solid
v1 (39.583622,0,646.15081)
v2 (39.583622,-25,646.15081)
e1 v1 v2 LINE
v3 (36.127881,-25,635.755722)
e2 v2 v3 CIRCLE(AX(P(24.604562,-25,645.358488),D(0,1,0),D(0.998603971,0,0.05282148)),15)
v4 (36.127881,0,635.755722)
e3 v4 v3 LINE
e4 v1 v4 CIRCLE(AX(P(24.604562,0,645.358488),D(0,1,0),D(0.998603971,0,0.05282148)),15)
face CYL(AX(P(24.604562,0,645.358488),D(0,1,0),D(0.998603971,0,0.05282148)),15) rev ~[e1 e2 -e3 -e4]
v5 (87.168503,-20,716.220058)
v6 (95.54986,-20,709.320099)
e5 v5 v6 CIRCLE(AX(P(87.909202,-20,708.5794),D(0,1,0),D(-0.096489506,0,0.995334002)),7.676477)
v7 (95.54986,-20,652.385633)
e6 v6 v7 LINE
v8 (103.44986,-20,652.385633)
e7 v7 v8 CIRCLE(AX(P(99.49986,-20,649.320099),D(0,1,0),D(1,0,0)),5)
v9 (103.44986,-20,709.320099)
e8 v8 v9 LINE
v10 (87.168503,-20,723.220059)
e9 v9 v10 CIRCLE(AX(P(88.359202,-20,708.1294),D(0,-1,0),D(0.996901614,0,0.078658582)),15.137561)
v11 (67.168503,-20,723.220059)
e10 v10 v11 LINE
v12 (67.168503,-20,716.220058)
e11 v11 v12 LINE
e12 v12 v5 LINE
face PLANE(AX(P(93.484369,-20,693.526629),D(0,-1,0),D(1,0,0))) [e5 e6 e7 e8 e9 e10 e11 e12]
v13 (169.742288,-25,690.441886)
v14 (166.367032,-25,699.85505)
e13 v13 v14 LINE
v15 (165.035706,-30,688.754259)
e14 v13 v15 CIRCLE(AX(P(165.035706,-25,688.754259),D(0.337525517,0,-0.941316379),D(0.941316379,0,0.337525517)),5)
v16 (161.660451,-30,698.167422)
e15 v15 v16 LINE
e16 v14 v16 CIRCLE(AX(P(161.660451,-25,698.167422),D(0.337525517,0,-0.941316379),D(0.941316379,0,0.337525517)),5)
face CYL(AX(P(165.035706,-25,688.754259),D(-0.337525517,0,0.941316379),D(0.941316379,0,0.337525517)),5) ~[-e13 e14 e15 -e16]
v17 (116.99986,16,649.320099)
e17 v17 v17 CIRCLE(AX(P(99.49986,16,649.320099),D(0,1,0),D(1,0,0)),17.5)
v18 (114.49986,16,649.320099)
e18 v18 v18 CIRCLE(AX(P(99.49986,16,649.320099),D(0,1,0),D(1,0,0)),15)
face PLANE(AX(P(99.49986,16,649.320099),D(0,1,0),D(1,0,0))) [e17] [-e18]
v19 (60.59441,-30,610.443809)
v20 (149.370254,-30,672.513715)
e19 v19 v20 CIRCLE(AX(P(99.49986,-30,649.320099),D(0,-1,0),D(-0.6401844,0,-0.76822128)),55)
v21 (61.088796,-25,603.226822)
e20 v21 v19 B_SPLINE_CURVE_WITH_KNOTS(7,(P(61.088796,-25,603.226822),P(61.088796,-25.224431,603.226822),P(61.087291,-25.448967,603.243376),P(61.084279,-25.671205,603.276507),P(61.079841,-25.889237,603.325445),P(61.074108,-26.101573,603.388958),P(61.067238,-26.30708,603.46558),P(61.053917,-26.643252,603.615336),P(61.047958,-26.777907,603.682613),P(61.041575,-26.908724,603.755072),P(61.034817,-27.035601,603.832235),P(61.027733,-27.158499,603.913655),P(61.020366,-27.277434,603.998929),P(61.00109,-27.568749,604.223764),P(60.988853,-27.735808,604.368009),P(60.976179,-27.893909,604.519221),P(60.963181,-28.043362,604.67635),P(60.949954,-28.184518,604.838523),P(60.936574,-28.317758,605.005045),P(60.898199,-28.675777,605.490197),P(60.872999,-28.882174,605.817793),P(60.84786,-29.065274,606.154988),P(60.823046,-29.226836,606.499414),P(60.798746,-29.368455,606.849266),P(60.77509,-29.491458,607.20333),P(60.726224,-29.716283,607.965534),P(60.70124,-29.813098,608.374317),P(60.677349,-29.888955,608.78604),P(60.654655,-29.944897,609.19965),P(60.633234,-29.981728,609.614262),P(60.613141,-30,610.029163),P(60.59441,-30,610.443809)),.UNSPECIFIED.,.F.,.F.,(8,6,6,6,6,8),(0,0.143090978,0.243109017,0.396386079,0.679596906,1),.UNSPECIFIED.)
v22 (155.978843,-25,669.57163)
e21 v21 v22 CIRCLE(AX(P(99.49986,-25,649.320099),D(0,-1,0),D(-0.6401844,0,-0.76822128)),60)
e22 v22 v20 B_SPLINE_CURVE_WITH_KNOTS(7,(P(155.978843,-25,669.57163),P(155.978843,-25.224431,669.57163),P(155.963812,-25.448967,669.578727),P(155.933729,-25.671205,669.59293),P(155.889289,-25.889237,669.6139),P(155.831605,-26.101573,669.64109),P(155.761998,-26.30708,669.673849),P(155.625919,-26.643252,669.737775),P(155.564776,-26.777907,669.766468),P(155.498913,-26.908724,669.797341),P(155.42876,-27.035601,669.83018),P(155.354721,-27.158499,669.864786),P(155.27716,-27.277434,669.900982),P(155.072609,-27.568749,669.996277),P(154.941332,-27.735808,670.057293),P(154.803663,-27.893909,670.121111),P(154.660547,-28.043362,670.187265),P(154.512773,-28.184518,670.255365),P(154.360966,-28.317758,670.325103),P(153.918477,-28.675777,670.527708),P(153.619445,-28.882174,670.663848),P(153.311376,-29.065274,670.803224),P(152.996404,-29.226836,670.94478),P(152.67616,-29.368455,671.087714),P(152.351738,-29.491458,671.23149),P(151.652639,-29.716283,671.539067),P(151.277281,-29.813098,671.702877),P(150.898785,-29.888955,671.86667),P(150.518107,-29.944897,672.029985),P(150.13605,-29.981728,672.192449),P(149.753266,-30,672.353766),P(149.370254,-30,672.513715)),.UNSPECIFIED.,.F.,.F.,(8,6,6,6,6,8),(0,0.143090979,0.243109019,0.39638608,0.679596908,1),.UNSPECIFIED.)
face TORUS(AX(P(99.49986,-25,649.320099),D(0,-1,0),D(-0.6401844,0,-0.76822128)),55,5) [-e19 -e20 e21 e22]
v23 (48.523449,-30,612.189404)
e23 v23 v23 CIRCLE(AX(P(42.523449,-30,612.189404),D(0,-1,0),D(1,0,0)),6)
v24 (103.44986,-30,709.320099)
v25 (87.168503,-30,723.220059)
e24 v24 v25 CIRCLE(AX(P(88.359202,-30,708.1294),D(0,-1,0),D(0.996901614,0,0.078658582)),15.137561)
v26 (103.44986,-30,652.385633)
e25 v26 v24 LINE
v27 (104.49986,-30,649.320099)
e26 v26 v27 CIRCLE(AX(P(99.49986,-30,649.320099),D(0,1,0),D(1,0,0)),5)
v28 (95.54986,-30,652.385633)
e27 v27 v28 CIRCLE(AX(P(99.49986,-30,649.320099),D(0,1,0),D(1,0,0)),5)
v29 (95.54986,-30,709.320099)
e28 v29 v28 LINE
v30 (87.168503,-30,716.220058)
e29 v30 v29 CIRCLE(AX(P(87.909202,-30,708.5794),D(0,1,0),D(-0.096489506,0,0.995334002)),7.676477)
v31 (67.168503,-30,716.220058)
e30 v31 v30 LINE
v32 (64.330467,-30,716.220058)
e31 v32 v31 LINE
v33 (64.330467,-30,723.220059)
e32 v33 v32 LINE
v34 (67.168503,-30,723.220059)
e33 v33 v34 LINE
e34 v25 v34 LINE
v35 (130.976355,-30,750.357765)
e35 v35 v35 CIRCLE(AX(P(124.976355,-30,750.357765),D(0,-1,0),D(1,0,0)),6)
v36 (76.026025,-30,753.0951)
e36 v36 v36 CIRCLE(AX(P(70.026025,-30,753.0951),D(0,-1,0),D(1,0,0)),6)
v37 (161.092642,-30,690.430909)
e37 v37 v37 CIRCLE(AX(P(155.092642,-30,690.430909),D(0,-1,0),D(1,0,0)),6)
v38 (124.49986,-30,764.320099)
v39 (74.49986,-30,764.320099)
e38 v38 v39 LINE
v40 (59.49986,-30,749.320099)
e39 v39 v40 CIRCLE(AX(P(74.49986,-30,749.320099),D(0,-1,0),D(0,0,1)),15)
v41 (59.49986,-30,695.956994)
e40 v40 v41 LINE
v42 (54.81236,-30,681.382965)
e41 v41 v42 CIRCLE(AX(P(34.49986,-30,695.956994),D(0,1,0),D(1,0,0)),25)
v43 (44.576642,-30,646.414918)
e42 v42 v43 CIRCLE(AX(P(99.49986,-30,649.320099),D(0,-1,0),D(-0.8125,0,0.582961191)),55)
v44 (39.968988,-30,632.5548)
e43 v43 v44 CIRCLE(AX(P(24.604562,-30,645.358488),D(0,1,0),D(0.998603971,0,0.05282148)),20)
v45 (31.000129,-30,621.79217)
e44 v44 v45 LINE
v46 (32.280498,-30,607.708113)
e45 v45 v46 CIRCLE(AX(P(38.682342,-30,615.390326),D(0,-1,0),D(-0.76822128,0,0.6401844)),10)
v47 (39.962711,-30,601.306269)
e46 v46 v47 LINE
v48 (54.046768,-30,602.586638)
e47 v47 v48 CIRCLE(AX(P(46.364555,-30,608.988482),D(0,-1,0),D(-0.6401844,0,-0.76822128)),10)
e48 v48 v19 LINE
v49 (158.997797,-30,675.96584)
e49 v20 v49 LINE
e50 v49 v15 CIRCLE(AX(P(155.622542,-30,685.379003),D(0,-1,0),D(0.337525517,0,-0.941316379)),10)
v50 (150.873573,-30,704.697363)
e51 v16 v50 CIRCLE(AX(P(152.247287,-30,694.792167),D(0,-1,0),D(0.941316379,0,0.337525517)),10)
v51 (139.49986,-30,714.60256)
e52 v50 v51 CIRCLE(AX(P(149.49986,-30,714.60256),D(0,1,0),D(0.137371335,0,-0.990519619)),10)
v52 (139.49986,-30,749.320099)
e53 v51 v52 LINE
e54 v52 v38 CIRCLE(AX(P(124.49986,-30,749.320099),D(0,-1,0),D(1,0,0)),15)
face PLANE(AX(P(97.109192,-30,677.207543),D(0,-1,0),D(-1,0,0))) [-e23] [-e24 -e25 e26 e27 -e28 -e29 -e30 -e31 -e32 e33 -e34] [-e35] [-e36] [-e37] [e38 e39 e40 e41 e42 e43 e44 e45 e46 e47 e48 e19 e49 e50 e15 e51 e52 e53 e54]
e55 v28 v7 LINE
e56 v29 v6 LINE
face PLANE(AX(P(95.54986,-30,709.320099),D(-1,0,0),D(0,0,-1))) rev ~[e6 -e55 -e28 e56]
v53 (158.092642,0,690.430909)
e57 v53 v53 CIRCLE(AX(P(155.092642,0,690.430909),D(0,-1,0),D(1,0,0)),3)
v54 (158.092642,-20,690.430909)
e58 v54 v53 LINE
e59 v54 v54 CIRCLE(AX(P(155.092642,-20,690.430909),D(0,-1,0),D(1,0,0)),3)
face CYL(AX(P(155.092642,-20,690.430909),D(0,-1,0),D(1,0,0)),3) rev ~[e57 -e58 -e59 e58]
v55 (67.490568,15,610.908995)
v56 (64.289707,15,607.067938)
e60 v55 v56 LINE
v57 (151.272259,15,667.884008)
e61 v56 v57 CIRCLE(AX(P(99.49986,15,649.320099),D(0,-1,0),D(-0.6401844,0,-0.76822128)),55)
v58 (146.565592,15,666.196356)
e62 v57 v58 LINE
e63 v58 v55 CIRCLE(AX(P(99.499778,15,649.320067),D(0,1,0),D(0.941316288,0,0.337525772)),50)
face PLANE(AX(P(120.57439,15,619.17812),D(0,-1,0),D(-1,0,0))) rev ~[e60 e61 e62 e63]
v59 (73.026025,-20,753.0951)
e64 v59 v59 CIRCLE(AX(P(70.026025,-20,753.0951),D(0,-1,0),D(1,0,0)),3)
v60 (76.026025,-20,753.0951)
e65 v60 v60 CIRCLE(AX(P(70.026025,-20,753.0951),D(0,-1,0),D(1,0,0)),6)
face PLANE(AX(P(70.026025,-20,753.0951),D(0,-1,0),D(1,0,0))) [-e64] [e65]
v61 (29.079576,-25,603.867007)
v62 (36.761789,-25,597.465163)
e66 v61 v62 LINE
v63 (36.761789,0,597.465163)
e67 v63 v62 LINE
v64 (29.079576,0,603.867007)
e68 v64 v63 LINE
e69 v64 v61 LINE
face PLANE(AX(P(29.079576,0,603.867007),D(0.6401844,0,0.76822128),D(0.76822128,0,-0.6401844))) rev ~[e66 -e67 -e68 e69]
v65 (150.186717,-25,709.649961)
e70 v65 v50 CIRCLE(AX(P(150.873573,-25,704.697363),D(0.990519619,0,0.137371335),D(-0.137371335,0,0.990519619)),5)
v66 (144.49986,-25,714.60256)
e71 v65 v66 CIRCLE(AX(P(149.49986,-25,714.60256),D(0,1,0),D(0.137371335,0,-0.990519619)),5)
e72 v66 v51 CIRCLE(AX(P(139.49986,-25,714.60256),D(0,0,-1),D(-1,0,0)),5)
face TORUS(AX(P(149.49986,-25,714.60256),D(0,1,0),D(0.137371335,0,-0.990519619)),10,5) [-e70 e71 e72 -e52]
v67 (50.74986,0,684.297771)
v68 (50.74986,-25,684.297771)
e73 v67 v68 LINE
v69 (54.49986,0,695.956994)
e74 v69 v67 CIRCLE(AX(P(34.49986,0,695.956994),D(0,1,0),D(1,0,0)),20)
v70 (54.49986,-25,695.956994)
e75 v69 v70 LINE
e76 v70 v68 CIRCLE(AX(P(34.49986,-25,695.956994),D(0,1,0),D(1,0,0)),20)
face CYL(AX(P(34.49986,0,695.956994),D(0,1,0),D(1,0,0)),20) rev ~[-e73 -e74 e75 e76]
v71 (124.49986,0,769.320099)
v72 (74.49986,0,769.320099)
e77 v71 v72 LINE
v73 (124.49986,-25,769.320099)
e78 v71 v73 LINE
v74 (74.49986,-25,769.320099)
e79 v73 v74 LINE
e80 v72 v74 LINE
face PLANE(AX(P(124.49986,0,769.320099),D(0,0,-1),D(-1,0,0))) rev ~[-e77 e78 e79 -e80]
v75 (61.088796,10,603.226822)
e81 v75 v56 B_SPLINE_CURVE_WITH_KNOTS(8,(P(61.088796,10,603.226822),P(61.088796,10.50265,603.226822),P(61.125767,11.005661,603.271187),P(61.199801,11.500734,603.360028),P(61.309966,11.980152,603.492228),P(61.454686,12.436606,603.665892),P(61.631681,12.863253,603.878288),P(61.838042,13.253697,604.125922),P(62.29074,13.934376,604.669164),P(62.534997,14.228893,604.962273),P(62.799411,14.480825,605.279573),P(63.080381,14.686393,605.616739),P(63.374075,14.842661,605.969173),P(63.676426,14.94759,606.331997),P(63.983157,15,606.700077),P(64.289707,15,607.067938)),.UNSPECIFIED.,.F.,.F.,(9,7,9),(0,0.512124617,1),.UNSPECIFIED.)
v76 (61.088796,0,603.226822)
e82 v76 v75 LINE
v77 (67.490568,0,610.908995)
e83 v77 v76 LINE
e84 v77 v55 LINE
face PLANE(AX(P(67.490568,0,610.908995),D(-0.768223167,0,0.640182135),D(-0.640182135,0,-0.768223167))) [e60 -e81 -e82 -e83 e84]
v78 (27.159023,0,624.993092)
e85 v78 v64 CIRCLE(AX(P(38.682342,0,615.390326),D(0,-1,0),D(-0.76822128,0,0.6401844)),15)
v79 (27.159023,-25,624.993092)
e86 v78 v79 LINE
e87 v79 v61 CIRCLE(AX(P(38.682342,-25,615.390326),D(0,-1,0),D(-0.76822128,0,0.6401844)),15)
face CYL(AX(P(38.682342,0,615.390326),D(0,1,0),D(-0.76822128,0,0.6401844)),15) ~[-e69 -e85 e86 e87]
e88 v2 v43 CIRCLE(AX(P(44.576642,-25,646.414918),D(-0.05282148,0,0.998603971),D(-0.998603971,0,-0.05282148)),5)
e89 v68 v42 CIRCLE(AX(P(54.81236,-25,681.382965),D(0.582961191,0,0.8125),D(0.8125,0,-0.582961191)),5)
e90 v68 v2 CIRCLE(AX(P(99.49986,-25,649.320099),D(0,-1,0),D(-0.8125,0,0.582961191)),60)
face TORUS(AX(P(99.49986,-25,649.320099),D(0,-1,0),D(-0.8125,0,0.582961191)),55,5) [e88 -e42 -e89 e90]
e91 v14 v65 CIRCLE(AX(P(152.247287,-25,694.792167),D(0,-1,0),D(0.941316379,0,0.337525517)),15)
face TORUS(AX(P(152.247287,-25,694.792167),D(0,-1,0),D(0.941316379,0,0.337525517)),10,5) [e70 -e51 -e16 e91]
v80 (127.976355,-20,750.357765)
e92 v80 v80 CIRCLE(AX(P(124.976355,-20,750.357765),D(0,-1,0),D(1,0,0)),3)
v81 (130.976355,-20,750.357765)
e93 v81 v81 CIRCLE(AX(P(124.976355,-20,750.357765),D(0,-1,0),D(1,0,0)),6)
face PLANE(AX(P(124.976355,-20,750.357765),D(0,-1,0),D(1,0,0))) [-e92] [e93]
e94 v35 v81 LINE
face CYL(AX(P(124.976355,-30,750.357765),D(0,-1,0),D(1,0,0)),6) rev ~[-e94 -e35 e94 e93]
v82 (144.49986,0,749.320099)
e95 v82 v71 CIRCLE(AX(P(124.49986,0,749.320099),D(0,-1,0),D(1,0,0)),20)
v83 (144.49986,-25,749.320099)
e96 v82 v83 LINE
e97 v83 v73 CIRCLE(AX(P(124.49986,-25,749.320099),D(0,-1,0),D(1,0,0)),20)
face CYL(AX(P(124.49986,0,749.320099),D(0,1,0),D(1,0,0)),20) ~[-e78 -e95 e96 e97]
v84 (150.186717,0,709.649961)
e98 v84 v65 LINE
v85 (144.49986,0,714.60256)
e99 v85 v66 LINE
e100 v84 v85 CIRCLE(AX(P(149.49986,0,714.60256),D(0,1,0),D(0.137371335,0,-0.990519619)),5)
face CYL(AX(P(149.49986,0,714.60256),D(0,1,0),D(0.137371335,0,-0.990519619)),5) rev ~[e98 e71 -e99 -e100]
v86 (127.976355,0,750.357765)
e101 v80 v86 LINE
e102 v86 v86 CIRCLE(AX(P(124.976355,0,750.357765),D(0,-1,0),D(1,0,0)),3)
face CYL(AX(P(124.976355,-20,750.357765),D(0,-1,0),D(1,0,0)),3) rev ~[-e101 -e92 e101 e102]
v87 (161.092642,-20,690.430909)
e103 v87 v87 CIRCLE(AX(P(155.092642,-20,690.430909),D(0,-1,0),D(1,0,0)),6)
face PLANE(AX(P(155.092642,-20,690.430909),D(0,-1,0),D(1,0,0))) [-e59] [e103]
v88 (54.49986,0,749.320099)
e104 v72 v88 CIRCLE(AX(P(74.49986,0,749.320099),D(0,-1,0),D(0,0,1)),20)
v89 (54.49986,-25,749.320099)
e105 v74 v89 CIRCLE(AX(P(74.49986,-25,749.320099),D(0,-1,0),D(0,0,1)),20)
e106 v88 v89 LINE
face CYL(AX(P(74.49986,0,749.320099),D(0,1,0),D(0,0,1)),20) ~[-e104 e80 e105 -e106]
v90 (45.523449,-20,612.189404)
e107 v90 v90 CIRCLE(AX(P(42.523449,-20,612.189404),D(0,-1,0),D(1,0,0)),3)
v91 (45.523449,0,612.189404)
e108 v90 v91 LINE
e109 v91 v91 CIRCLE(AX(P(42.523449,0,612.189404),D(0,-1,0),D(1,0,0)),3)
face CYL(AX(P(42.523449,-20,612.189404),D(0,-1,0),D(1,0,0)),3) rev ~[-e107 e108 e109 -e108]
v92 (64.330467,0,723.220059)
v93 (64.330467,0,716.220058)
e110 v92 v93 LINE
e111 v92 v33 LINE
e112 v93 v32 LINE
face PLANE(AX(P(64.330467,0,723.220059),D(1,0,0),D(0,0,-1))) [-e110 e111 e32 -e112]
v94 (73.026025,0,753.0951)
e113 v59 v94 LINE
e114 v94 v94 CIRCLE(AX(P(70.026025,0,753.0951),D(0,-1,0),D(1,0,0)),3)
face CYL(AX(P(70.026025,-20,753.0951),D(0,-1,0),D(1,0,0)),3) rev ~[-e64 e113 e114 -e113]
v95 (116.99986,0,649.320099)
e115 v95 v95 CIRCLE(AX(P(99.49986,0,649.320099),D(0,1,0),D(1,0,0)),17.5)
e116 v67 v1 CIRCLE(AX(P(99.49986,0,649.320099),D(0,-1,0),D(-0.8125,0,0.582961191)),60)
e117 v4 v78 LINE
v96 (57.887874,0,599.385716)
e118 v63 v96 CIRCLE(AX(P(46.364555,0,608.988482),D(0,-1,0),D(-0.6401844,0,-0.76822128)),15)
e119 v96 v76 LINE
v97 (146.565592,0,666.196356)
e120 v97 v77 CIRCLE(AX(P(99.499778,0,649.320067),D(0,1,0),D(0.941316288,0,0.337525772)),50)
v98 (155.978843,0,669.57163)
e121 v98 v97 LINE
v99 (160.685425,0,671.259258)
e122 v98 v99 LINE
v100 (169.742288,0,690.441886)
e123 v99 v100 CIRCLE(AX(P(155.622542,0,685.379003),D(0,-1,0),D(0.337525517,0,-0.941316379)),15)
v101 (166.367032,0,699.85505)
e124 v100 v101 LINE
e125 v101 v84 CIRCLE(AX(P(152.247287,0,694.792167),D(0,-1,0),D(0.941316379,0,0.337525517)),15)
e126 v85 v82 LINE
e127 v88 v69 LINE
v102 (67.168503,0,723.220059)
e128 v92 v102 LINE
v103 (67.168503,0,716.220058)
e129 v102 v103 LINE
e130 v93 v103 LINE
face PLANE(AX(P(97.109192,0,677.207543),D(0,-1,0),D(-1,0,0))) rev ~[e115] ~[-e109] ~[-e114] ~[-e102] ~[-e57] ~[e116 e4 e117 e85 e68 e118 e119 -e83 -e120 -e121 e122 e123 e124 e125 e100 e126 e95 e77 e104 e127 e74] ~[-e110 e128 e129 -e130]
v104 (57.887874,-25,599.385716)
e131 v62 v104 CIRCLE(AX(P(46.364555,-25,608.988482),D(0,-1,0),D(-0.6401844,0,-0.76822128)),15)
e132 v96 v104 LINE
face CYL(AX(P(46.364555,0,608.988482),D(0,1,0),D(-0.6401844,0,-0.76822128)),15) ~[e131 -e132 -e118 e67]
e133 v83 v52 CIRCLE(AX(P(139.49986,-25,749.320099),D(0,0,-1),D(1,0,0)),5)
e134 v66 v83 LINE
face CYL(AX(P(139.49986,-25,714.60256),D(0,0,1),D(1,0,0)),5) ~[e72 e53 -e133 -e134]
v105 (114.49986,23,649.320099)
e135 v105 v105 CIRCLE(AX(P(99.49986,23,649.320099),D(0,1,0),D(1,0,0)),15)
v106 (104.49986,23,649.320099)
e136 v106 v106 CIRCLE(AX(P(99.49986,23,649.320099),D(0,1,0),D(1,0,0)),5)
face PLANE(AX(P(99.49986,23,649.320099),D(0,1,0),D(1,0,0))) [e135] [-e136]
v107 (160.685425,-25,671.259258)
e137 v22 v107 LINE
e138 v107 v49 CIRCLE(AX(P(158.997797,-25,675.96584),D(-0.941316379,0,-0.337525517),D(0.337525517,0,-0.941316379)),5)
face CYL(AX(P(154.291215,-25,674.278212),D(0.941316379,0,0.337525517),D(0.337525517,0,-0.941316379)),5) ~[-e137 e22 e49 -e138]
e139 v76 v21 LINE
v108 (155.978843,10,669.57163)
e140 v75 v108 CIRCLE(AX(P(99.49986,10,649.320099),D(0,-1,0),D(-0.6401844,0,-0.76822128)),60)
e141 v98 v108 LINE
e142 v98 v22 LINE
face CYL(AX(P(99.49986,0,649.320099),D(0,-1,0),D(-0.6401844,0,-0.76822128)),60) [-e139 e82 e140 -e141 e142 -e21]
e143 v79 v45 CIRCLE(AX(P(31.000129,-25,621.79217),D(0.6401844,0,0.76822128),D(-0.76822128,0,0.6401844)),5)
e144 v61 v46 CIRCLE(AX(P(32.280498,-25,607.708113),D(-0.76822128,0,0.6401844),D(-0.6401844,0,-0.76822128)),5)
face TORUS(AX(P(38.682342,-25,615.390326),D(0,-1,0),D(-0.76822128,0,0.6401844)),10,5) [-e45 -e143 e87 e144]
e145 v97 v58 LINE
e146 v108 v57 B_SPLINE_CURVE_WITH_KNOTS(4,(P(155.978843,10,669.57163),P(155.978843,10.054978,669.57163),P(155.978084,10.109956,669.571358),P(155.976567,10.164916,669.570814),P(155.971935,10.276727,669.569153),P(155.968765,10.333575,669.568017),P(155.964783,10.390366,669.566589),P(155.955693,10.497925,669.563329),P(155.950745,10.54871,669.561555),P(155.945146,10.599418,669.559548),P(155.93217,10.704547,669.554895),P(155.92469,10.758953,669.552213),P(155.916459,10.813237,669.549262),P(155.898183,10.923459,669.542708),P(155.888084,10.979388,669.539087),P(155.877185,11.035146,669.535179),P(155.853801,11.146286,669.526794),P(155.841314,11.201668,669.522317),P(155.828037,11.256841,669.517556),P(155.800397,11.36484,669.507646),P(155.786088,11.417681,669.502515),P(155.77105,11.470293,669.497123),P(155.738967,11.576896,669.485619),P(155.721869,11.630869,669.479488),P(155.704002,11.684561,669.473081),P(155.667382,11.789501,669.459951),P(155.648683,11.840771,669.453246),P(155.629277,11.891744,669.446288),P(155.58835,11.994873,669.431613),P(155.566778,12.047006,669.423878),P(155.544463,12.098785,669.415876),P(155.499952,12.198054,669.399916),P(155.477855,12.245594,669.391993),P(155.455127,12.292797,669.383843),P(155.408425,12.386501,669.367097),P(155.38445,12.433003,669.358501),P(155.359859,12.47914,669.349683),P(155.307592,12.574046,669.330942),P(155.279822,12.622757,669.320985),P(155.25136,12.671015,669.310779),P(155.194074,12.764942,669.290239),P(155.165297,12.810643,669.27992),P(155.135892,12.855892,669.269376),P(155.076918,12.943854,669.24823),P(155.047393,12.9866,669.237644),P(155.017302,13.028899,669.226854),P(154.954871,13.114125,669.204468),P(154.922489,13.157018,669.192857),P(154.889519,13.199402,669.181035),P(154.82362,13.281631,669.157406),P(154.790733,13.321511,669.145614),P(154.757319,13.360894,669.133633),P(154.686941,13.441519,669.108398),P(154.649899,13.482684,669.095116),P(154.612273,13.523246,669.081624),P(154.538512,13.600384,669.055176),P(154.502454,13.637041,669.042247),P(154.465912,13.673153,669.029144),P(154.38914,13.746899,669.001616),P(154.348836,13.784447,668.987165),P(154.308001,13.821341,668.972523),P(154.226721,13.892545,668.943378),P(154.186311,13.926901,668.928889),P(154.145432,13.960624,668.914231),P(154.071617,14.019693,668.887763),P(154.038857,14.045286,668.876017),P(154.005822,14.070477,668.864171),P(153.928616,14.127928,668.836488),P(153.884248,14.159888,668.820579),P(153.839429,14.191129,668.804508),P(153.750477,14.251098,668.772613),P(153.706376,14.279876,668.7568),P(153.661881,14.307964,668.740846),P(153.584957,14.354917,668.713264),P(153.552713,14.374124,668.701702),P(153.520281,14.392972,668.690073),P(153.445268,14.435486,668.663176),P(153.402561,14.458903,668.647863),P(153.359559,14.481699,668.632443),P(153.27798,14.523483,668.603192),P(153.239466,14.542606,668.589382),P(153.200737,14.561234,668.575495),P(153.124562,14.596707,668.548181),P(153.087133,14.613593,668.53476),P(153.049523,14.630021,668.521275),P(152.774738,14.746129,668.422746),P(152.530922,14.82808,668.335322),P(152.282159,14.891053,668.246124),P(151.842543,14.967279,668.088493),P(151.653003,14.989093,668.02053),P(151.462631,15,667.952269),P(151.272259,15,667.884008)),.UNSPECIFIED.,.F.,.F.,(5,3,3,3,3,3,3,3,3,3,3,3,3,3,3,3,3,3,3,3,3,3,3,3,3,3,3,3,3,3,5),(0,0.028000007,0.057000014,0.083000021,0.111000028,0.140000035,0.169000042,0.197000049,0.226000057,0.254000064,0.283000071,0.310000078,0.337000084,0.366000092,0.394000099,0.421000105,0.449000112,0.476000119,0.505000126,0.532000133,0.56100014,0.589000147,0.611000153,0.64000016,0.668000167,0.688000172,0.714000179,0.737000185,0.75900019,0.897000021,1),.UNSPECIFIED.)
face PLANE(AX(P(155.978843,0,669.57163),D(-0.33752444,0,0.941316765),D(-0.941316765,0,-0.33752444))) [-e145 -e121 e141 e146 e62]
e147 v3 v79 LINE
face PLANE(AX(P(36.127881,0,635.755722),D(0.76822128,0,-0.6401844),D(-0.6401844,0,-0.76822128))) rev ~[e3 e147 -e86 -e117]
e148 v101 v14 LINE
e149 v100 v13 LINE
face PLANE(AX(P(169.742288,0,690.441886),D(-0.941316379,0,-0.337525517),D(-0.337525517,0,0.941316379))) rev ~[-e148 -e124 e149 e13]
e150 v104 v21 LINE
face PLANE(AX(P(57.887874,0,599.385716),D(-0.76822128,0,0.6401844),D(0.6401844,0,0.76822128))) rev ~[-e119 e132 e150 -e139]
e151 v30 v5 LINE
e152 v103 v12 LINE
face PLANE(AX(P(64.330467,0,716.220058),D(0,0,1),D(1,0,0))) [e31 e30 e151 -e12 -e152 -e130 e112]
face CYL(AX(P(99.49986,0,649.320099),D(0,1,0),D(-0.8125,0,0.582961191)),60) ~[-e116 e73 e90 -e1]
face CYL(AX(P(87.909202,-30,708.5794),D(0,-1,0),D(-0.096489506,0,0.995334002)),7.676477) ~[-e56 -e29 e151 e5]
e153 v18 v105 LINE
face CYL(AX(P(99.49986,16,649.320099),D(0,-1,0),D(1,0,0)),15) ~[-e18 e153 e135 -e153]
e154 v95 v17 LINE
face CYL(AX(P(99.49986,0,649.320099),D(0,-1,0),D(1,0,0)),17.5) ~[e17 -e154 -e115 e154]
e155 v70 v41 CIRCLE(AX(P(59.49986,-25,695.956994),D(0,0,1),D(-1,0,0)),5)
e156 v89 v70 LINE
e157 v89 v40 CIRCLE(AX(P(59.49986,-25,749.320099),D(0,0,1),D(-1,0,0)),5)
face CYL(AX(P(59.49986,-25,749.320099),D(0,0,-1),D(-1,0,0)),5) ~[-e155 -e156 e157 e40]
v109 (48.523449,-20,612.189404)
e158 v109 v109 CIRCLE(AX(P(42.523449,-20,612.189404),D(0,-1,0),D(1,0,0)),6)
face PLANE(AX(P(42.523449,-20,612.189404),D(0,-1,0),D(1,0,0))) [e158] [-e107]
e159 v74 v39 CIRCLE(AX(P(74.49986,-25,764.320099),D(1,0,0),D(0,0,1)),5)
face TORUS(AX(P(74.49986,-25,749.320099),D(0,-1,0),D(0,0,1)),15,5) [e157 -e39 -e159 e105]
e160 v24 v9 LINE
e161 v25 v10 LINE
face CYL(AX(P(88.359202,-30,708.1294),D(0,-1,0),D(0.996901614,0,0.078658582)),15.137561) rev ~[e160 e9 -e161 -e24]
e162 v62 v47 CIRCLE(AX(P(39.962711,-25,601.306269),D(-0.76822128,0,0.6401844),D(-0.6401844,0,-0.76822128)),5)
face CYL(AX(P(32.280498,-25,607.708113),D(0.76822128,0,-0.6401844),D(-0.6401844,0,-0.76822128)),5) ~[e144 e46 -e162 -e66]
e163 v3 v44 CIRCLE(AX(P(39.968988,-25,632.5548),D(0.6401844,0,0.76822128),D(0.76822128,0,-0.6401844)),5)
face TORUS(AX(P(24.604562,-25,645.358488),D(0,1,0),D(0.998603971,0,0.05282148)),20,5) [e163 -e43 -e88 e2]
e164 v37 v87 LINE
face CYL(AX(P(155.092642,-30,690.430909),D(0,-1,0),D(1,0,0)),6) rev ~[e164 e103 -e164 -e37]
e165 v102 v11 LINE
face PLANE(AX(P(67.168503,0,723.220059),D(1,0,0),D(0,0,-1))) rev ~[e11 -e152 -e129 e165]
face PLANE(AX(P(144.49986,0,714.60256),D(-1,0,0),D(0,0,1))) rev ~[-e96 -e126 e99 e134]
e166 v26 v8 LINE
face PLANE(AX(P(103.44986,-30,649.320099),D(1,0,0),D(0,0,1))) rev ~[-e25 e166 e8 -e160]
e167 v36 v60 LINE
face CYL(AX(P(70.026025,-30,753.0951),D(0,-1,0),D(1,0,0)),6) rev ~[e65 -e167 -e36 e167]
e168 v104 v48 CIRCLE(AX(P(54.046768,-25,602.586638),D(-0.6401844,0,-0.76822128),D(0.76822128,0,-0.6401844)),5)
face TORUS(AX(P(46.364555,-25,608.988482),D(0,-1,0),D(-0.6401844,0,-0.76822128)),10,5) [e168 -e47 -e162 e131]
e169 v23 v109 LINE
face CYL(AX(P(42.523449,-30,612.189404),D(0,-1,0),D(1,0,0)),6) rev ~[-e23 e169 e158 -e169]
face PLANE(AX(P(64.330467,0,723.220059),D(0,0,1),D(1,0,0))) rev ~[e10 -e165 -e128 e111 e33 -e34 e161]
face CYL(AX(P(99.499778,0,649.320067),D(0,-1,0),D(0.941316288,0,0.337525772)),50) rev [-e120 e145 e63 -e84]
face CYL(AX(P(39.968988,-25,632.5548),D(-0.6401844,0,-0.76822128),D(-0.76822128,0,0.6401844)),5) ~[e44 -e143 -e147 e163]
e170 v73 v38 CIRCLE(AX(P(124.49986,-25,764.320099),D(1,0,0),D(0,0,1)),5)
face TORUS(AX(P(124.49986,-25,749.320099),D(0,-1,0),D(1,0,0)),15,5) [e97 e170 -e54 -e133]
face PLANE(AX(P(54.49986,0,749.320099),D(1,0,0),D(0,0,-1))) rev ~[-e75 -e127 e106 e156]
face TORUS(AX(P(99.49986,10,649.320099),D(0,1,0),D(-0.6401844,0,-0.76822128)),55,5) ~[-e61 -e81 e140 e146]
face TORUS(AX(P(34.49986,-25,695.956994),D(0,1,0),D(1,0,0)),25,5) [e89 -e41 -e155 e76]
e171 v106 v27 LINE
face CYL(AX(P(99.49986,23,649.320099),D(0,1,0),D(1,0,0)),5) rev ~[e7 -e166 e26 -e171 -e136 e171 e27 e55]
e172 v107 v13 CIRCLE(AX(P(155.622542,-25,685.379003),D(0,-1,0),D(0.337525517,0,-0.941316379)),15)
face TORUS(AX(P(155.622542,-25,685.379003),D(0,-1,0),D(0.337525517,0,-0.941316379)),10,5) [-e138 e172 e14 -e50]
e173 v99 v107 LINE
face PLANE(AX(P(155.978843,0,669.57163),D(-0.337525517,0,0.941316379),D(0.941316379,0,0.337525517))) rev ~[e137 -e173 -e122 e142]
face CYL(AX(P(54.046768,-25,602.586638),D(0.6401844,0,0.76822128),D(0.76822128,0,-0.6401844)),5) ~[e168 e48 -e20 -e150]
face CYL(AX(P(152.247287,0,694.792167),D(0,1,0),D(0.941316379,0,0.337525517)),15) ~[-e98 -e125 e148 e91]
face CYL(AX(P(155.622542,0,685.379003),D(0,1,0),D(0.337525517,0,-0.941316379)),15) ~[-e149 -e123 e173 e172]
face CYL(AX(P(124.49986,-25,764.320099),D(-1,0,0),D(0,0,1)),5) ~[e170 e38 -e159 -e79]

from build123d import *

# Parameters (mm, degrees)
BOSS_EXTRUDE1_DEPTH = 30
SKETCH3_R           = 6
CUT_EXTRUDE2_DEPTH  = 10
CUT_EXTRUDE3_REACH  = 22
SKETCH4_R           = 3
SKETCH5_R           = 17.5
BOSS_EXTRUDE2_DEPTH = 16
SKETCH6_R           = 15
BOSS_EXTRUDE3_DEPTH = 7
BOSS_EXTRUDE4_DEPTH = 15
FILLET1_R           = 5
CUT_EXTRUDE4_REACH  = 55
SKETCH8_R           = 5
CUT_EXTRUDE5_REACH  = 32
SKETCH9_W           = 2.838035454
SKETCH9_H           = 7.000000767
CUT_EXTRUDE6_DEPTH  = 10


with BuildPart() as part:
    # Sketch1 → Boss-Extrude1 (new body)
    with BuildSketch(Plane(origin=(0, 0, 0), x_dir=(-1, 0, 0), z_dir=(0, -1, 0))):
        with BuildLine():
            Line((-155.978842812, -669.571630145), (-160.685424707, -671.259257732))
            ThreePointArc((-160.685424707, -671.259257732), (-169.1867086, -678.974834226), (-169.742287629, -690.441886175))
            Line((-169.742287629, -690.441886175), (-166.367032456, -699.855049964))
            ThreePointArc((-166.367032456, -699.855049964), (-160.015233889, -707.624119417), (-150.186716753, -709.649961495))
            ThreePointArc((-150.186716753, -709.649961495), (-146.216133795, -710.831997076), (-144.49986008, -714.602559592))
            Line((-144.49986008, -714.602559592), (-144.49986008, -749.320099104))
            ThreePointArc((-144.49986008, -749.320099104), (-138.641995704, -763.462234727), (-124.49986008, -769.320099104))
            Line((-124.49986008, -769.320099104), (-74.49986008, -769.320099104))
            ThreePointArc((-74.49986008, -769.320099104), (-60.357724456, -763.462234727), (-54.49986008, -749.320099104))
            Line((-54.49986008, -749.320099104), (-54.49986008, -695.956994369))
            ThreePointArc((-54.49986008, -695.956994369), (-53.539292845, -689.833270012), (-50.74986008, -684.297770553))
            ThreePointArc((-50.74986008, -684.297770553), (-41.916134266, -666.175796103), (-39.583621808, -646.150810326))
            ThreePointArc((-39.583621808, -646.150810326), (-38.838622962, -640.626520742), (-36.127881434, -635.755722136))
            Line((-36.127881434, -635.755722136), (-27.159022918, -624.993091916))
            ThreePointArc((-27.159022918, -624.993091916), (-23.743944015, -614.032289731), (-29.079576117, -603.867006728))
            Line((-29.079576117, -603.867006728), (-36.761788913, -597.465162731))
            ThreePointArc((-36.761788913, -597.465162731), (-47.722591099, -594.050083828), (-57.887874102, -599.38571593))
            Line((-57.887874102, -599.38571593), (-61.0887961, -603.226822328))
            ThreePointArc((-61.0887961, -603.226822328), (-133.880389498, -600.14714722), (-155.978842812, -669.571630145))
        make_face()
    extrude(amount=BOSS_EXTRUDE1_DEPTH)

    # Sketch3 → Cut-Extrude2 (cut)
    with BuildSketch(Plane.XZ.offset(30)):
        with Locations((42.52344851, 612.189403923)):
            Circle(SKETCH3_R)
        with Locations((155.092642393, 690.430908662)):
            Circle(SKETCH3_R)
        with Locations((124.976355339, 750.357765174)):
            Circle(SKETCH3_R)
        with Locations((70.026025263, 753.095100306)):
            Circle(SKETCH3_R)
    extrude(amount=-CUT_EXTRUDE2_DEPTH, mode=Mode.SUBTRACT)

    # Sketch4 → Cut-Extrude3 (cut, up to next)
    with BuildSketch(Plane.XZ.offset(20), mode=Mode.PRIVATE) as cut_extrude3_sk1:
        with Locations((42.52344851, 612.189403923)):
            Circle(SKETCH4_R)
    cut_extrude3_tool1 = extrude(cut_extrude3_sk1.sketch, amount=-CUT_EXTRUDE3_REACH, mode=Mode.PRIVATE) & part.part
    add(cut_extrude3_tool1.solids().sort_by_distance((42.523449, -20, 612.189404))[0], mode=Mode.SUBTRACT)
    # Sketch4 → Cut-Extrude3 (cut, up to next)
    with BuildSketch(Plane.XZ.offset(20), mode=Mode.PRIVATE) as cut_extrude3_sk2:
        with Locations((155.092642393, 690.430908662)):
            Circle(SKETCH4_R)
    cut_extrude3_tool2 = extrude(cut_extrude3_sk2.sketch, amount=-CUT_EXTRUDE3_REACH, mode=Mode.PRIVATE) & part.part
    add(cut_extrude3_tool2.solids().sort_by_distance((155.092642, -20, 690.430909))[0], mode=Mode.SUBTRACT)
    # Sketch4 → Cut-Extrude3 (cut, up to next)
    with BuildSketch(Plane.XZ.offset(20), mode=Mode.PRIVATE) as cut_extrude3_sk3:
        with Locations((124.976355339, 750.357765174)):
            Circle(SKETCH4_R)
    cut_extrude3_tool3 = extrude(cut_extrude3_sk3.sketch, amount=-CUT_EXTRUDE3_REACH, mode=Mode.PRIVATE) & part.part
    add(cut_extrude3_tool3.solids().sort_by_distance((124.976355, -20, 750.357765))[0], mode=Mode.SUBTRACT)
    # Sketch4 → Cut-Extrude3 (cut, up to next)
    with BuildSketch(Plane.XZ.offset(20), mode=Mode.PRIVATE) as cut_extrude3_sk4:
        with Locations((70.026025263, 753.095100306)):
            Circle(SKETCH4_R)
    cut_extrude3_tool4 = extrude(cut_extrude3_sk4.sketch, amount=-CUT_EXTRUDE3_REACH, mode=Mode.PRIVATE) & part.part
    add(cut_extrude3_tool4.solids().sort_by_distance((70.026025, -20, 753.0951))[0], mode=Mode.SUBTRACT)

    # Sketch5 → Boss-Extrude2 (add)
    with BuildSketch(Plane(origin=(0, 0, 0), x_dir=(1, 0, 0), z_dir=(0, 1, 0))):
        with Locations((99.49986008, -649.320099104)):
            Circle(SKETCH5_R)
    extrude(amount=BOSS_EXTRUDE2_DEPTH)

    # Sketch6 → Boss-Extrude3 (add)
    with BuildSketch(Plane(origin=(0, 16, 0), x_dir=(1, 0, 0), z_dir=(0, 1, 0))):
        with Locations((99.49986008, -649.320099104)):
            Circle(SKETCH6_R)
    extrude(amount=BOSS_EXTRUDE3_DEPTH)

    # Sketch7 → Boss-Extrude4 (add)
    with BuildSketch(Plane(origin=(0, 0, 0), x_dir=(1, 0, 0), z_dir=(0, 1, 0))):
        with BuildLine():
            Line((155.978842812, -669.571630145), (146.565591992, -666.196355925))
            ThreePointArc((146.565591992, -666.196355925), (128.150229883, -608.342615172), (67.490568023, -610.908994684))
            Line((67.490568023, -610.908994684), (61.0887961, -603.226822328))
            ThreePointArc((61.0887961, -603.226822328), (133.880389498, -600.14714722), (155.978842812, -669.571630145))
        make_face()
    extrude(amount=BOSS_EXTRUDE4_DEPTH)

    # Fillet1
    fillet1_edges = [part.edges().sort_by_distance(p)[0] for p in [
        (133.880389498, 15, 600.14714722),
        (23.743944015, -30, 614.032289731),
        (32.920682515, -30, 600.666084729),
        (47.722591099, -30, 594.050083828),
        (59.488335101, -30, 601.306269129),
        (133.880389498, -30, 600.14714722),
        (158.332133759, -30, 670.415443939),
        (169.1867086, -30, 678.974834226),
        (168.054660043, -30, 695.14846807),
        (160.015233889, -30, 707.624119417),
        (146.216133795, -30, 710.831997076),
        (38.838622962, -30, 640.626520742),
        (144.49986008, -30, 731.961329348),
        (138.641995704, -30, 763.462234727),
        (99.49986008, -30, 769.320099104),
        (60.357724456, -30, 763.462234727),
        (54.49986008, -30, 722.638546736),
        (53.539292845, -30, 689.833270012),
        (41.916134266, -30, 666.175796103),
        (31.643452176, -30, 630.374407026),
    ]]
    fillet(fillet1_edges, radius=FILLET1_R)

    # Sketch8 → Cut-Extrude4 (cut, up to next)
    with BuildSketch(Plane(origin=(0, 23, 0), x_dir=(1, 0, 0), z_dir=(0, 1, 0)), mode=Mode.PRIVATE) as cut_extrude4_sk1:
        with Locations((99.49986008, -649.320099104)):
            Circle(SKETCH8_R)
    cut_extrude4_tool1 = extrude(cut_extrude4_sk1.sketch, amount=-CUT_EXTRUDE4_REACH, mode=Mode.PRIVATE) & part.part
    add(cut_extrude4_tool1.solids().sort_by_distance((99.49986, 23, 649.320099))[0], mode=Mode.SUBTRACT)

    # Sketch9 → Cut-Extrude5 (cut, up to next)
    with BuildSketch(Plane(origin=(0, 0, 0), x_dir=(1, 0, 0), z_dir=(0, 1, 0)), mode=Mode.PRIVATE) as cut_extrude5_sk1:
        with Locations((65.749484781, -719.720058193)):
            Rectangle(SKETCH9_W, SKETCH9_H)
    cut_extrude5_tool1 = extrude(cut_extrude5_sk1.sketch, amount=-CUT_EXTRUDE5_REACH, mode=Mode.PRIVATE) & part.part
    add(cut_extrude5_tool1.solids().sort_by_distance((65.749485, 0, 719.720058))[0], mode=Mode.SUBTRACT)

    # Sketch11 → Cut-Extrude6 (cut)
    with BuildSketch(Plane.XZ.offset(30)):
        with BuildLine():
            Line((67.168502508, 716.220057809), (87.168502508, 716.220057809))
            ThreePointArc((87.168502508, 716.220057809), (92.788209532, 714.505914445), (95.54986008, 709.320099104))
            Line((95.54986008, 709.320099104), (95.54986008, 649.320099104))
            Line((95.54986008, 649.320099104), (103.44986008, 649.320099104))
            Line((103.44986008, 649.320099104), (103.44986008, 709.320099104))
            ThreePointArc((103.44986008, 709.320099104), (98.187957159, 719.6420584), (87.168502508, 723.220058576))
            Line((87.168502508, 723.220058576), (67.168502508, 723.220058576))
            Line((67.168502508, 723.220058576), (67.168502508, 716.220057809))
        make_face()
    extrude(amount=-CUT_EXTRUDE6_DEPTH, mode=Mode.SUBTRACT)


solid = part.part
